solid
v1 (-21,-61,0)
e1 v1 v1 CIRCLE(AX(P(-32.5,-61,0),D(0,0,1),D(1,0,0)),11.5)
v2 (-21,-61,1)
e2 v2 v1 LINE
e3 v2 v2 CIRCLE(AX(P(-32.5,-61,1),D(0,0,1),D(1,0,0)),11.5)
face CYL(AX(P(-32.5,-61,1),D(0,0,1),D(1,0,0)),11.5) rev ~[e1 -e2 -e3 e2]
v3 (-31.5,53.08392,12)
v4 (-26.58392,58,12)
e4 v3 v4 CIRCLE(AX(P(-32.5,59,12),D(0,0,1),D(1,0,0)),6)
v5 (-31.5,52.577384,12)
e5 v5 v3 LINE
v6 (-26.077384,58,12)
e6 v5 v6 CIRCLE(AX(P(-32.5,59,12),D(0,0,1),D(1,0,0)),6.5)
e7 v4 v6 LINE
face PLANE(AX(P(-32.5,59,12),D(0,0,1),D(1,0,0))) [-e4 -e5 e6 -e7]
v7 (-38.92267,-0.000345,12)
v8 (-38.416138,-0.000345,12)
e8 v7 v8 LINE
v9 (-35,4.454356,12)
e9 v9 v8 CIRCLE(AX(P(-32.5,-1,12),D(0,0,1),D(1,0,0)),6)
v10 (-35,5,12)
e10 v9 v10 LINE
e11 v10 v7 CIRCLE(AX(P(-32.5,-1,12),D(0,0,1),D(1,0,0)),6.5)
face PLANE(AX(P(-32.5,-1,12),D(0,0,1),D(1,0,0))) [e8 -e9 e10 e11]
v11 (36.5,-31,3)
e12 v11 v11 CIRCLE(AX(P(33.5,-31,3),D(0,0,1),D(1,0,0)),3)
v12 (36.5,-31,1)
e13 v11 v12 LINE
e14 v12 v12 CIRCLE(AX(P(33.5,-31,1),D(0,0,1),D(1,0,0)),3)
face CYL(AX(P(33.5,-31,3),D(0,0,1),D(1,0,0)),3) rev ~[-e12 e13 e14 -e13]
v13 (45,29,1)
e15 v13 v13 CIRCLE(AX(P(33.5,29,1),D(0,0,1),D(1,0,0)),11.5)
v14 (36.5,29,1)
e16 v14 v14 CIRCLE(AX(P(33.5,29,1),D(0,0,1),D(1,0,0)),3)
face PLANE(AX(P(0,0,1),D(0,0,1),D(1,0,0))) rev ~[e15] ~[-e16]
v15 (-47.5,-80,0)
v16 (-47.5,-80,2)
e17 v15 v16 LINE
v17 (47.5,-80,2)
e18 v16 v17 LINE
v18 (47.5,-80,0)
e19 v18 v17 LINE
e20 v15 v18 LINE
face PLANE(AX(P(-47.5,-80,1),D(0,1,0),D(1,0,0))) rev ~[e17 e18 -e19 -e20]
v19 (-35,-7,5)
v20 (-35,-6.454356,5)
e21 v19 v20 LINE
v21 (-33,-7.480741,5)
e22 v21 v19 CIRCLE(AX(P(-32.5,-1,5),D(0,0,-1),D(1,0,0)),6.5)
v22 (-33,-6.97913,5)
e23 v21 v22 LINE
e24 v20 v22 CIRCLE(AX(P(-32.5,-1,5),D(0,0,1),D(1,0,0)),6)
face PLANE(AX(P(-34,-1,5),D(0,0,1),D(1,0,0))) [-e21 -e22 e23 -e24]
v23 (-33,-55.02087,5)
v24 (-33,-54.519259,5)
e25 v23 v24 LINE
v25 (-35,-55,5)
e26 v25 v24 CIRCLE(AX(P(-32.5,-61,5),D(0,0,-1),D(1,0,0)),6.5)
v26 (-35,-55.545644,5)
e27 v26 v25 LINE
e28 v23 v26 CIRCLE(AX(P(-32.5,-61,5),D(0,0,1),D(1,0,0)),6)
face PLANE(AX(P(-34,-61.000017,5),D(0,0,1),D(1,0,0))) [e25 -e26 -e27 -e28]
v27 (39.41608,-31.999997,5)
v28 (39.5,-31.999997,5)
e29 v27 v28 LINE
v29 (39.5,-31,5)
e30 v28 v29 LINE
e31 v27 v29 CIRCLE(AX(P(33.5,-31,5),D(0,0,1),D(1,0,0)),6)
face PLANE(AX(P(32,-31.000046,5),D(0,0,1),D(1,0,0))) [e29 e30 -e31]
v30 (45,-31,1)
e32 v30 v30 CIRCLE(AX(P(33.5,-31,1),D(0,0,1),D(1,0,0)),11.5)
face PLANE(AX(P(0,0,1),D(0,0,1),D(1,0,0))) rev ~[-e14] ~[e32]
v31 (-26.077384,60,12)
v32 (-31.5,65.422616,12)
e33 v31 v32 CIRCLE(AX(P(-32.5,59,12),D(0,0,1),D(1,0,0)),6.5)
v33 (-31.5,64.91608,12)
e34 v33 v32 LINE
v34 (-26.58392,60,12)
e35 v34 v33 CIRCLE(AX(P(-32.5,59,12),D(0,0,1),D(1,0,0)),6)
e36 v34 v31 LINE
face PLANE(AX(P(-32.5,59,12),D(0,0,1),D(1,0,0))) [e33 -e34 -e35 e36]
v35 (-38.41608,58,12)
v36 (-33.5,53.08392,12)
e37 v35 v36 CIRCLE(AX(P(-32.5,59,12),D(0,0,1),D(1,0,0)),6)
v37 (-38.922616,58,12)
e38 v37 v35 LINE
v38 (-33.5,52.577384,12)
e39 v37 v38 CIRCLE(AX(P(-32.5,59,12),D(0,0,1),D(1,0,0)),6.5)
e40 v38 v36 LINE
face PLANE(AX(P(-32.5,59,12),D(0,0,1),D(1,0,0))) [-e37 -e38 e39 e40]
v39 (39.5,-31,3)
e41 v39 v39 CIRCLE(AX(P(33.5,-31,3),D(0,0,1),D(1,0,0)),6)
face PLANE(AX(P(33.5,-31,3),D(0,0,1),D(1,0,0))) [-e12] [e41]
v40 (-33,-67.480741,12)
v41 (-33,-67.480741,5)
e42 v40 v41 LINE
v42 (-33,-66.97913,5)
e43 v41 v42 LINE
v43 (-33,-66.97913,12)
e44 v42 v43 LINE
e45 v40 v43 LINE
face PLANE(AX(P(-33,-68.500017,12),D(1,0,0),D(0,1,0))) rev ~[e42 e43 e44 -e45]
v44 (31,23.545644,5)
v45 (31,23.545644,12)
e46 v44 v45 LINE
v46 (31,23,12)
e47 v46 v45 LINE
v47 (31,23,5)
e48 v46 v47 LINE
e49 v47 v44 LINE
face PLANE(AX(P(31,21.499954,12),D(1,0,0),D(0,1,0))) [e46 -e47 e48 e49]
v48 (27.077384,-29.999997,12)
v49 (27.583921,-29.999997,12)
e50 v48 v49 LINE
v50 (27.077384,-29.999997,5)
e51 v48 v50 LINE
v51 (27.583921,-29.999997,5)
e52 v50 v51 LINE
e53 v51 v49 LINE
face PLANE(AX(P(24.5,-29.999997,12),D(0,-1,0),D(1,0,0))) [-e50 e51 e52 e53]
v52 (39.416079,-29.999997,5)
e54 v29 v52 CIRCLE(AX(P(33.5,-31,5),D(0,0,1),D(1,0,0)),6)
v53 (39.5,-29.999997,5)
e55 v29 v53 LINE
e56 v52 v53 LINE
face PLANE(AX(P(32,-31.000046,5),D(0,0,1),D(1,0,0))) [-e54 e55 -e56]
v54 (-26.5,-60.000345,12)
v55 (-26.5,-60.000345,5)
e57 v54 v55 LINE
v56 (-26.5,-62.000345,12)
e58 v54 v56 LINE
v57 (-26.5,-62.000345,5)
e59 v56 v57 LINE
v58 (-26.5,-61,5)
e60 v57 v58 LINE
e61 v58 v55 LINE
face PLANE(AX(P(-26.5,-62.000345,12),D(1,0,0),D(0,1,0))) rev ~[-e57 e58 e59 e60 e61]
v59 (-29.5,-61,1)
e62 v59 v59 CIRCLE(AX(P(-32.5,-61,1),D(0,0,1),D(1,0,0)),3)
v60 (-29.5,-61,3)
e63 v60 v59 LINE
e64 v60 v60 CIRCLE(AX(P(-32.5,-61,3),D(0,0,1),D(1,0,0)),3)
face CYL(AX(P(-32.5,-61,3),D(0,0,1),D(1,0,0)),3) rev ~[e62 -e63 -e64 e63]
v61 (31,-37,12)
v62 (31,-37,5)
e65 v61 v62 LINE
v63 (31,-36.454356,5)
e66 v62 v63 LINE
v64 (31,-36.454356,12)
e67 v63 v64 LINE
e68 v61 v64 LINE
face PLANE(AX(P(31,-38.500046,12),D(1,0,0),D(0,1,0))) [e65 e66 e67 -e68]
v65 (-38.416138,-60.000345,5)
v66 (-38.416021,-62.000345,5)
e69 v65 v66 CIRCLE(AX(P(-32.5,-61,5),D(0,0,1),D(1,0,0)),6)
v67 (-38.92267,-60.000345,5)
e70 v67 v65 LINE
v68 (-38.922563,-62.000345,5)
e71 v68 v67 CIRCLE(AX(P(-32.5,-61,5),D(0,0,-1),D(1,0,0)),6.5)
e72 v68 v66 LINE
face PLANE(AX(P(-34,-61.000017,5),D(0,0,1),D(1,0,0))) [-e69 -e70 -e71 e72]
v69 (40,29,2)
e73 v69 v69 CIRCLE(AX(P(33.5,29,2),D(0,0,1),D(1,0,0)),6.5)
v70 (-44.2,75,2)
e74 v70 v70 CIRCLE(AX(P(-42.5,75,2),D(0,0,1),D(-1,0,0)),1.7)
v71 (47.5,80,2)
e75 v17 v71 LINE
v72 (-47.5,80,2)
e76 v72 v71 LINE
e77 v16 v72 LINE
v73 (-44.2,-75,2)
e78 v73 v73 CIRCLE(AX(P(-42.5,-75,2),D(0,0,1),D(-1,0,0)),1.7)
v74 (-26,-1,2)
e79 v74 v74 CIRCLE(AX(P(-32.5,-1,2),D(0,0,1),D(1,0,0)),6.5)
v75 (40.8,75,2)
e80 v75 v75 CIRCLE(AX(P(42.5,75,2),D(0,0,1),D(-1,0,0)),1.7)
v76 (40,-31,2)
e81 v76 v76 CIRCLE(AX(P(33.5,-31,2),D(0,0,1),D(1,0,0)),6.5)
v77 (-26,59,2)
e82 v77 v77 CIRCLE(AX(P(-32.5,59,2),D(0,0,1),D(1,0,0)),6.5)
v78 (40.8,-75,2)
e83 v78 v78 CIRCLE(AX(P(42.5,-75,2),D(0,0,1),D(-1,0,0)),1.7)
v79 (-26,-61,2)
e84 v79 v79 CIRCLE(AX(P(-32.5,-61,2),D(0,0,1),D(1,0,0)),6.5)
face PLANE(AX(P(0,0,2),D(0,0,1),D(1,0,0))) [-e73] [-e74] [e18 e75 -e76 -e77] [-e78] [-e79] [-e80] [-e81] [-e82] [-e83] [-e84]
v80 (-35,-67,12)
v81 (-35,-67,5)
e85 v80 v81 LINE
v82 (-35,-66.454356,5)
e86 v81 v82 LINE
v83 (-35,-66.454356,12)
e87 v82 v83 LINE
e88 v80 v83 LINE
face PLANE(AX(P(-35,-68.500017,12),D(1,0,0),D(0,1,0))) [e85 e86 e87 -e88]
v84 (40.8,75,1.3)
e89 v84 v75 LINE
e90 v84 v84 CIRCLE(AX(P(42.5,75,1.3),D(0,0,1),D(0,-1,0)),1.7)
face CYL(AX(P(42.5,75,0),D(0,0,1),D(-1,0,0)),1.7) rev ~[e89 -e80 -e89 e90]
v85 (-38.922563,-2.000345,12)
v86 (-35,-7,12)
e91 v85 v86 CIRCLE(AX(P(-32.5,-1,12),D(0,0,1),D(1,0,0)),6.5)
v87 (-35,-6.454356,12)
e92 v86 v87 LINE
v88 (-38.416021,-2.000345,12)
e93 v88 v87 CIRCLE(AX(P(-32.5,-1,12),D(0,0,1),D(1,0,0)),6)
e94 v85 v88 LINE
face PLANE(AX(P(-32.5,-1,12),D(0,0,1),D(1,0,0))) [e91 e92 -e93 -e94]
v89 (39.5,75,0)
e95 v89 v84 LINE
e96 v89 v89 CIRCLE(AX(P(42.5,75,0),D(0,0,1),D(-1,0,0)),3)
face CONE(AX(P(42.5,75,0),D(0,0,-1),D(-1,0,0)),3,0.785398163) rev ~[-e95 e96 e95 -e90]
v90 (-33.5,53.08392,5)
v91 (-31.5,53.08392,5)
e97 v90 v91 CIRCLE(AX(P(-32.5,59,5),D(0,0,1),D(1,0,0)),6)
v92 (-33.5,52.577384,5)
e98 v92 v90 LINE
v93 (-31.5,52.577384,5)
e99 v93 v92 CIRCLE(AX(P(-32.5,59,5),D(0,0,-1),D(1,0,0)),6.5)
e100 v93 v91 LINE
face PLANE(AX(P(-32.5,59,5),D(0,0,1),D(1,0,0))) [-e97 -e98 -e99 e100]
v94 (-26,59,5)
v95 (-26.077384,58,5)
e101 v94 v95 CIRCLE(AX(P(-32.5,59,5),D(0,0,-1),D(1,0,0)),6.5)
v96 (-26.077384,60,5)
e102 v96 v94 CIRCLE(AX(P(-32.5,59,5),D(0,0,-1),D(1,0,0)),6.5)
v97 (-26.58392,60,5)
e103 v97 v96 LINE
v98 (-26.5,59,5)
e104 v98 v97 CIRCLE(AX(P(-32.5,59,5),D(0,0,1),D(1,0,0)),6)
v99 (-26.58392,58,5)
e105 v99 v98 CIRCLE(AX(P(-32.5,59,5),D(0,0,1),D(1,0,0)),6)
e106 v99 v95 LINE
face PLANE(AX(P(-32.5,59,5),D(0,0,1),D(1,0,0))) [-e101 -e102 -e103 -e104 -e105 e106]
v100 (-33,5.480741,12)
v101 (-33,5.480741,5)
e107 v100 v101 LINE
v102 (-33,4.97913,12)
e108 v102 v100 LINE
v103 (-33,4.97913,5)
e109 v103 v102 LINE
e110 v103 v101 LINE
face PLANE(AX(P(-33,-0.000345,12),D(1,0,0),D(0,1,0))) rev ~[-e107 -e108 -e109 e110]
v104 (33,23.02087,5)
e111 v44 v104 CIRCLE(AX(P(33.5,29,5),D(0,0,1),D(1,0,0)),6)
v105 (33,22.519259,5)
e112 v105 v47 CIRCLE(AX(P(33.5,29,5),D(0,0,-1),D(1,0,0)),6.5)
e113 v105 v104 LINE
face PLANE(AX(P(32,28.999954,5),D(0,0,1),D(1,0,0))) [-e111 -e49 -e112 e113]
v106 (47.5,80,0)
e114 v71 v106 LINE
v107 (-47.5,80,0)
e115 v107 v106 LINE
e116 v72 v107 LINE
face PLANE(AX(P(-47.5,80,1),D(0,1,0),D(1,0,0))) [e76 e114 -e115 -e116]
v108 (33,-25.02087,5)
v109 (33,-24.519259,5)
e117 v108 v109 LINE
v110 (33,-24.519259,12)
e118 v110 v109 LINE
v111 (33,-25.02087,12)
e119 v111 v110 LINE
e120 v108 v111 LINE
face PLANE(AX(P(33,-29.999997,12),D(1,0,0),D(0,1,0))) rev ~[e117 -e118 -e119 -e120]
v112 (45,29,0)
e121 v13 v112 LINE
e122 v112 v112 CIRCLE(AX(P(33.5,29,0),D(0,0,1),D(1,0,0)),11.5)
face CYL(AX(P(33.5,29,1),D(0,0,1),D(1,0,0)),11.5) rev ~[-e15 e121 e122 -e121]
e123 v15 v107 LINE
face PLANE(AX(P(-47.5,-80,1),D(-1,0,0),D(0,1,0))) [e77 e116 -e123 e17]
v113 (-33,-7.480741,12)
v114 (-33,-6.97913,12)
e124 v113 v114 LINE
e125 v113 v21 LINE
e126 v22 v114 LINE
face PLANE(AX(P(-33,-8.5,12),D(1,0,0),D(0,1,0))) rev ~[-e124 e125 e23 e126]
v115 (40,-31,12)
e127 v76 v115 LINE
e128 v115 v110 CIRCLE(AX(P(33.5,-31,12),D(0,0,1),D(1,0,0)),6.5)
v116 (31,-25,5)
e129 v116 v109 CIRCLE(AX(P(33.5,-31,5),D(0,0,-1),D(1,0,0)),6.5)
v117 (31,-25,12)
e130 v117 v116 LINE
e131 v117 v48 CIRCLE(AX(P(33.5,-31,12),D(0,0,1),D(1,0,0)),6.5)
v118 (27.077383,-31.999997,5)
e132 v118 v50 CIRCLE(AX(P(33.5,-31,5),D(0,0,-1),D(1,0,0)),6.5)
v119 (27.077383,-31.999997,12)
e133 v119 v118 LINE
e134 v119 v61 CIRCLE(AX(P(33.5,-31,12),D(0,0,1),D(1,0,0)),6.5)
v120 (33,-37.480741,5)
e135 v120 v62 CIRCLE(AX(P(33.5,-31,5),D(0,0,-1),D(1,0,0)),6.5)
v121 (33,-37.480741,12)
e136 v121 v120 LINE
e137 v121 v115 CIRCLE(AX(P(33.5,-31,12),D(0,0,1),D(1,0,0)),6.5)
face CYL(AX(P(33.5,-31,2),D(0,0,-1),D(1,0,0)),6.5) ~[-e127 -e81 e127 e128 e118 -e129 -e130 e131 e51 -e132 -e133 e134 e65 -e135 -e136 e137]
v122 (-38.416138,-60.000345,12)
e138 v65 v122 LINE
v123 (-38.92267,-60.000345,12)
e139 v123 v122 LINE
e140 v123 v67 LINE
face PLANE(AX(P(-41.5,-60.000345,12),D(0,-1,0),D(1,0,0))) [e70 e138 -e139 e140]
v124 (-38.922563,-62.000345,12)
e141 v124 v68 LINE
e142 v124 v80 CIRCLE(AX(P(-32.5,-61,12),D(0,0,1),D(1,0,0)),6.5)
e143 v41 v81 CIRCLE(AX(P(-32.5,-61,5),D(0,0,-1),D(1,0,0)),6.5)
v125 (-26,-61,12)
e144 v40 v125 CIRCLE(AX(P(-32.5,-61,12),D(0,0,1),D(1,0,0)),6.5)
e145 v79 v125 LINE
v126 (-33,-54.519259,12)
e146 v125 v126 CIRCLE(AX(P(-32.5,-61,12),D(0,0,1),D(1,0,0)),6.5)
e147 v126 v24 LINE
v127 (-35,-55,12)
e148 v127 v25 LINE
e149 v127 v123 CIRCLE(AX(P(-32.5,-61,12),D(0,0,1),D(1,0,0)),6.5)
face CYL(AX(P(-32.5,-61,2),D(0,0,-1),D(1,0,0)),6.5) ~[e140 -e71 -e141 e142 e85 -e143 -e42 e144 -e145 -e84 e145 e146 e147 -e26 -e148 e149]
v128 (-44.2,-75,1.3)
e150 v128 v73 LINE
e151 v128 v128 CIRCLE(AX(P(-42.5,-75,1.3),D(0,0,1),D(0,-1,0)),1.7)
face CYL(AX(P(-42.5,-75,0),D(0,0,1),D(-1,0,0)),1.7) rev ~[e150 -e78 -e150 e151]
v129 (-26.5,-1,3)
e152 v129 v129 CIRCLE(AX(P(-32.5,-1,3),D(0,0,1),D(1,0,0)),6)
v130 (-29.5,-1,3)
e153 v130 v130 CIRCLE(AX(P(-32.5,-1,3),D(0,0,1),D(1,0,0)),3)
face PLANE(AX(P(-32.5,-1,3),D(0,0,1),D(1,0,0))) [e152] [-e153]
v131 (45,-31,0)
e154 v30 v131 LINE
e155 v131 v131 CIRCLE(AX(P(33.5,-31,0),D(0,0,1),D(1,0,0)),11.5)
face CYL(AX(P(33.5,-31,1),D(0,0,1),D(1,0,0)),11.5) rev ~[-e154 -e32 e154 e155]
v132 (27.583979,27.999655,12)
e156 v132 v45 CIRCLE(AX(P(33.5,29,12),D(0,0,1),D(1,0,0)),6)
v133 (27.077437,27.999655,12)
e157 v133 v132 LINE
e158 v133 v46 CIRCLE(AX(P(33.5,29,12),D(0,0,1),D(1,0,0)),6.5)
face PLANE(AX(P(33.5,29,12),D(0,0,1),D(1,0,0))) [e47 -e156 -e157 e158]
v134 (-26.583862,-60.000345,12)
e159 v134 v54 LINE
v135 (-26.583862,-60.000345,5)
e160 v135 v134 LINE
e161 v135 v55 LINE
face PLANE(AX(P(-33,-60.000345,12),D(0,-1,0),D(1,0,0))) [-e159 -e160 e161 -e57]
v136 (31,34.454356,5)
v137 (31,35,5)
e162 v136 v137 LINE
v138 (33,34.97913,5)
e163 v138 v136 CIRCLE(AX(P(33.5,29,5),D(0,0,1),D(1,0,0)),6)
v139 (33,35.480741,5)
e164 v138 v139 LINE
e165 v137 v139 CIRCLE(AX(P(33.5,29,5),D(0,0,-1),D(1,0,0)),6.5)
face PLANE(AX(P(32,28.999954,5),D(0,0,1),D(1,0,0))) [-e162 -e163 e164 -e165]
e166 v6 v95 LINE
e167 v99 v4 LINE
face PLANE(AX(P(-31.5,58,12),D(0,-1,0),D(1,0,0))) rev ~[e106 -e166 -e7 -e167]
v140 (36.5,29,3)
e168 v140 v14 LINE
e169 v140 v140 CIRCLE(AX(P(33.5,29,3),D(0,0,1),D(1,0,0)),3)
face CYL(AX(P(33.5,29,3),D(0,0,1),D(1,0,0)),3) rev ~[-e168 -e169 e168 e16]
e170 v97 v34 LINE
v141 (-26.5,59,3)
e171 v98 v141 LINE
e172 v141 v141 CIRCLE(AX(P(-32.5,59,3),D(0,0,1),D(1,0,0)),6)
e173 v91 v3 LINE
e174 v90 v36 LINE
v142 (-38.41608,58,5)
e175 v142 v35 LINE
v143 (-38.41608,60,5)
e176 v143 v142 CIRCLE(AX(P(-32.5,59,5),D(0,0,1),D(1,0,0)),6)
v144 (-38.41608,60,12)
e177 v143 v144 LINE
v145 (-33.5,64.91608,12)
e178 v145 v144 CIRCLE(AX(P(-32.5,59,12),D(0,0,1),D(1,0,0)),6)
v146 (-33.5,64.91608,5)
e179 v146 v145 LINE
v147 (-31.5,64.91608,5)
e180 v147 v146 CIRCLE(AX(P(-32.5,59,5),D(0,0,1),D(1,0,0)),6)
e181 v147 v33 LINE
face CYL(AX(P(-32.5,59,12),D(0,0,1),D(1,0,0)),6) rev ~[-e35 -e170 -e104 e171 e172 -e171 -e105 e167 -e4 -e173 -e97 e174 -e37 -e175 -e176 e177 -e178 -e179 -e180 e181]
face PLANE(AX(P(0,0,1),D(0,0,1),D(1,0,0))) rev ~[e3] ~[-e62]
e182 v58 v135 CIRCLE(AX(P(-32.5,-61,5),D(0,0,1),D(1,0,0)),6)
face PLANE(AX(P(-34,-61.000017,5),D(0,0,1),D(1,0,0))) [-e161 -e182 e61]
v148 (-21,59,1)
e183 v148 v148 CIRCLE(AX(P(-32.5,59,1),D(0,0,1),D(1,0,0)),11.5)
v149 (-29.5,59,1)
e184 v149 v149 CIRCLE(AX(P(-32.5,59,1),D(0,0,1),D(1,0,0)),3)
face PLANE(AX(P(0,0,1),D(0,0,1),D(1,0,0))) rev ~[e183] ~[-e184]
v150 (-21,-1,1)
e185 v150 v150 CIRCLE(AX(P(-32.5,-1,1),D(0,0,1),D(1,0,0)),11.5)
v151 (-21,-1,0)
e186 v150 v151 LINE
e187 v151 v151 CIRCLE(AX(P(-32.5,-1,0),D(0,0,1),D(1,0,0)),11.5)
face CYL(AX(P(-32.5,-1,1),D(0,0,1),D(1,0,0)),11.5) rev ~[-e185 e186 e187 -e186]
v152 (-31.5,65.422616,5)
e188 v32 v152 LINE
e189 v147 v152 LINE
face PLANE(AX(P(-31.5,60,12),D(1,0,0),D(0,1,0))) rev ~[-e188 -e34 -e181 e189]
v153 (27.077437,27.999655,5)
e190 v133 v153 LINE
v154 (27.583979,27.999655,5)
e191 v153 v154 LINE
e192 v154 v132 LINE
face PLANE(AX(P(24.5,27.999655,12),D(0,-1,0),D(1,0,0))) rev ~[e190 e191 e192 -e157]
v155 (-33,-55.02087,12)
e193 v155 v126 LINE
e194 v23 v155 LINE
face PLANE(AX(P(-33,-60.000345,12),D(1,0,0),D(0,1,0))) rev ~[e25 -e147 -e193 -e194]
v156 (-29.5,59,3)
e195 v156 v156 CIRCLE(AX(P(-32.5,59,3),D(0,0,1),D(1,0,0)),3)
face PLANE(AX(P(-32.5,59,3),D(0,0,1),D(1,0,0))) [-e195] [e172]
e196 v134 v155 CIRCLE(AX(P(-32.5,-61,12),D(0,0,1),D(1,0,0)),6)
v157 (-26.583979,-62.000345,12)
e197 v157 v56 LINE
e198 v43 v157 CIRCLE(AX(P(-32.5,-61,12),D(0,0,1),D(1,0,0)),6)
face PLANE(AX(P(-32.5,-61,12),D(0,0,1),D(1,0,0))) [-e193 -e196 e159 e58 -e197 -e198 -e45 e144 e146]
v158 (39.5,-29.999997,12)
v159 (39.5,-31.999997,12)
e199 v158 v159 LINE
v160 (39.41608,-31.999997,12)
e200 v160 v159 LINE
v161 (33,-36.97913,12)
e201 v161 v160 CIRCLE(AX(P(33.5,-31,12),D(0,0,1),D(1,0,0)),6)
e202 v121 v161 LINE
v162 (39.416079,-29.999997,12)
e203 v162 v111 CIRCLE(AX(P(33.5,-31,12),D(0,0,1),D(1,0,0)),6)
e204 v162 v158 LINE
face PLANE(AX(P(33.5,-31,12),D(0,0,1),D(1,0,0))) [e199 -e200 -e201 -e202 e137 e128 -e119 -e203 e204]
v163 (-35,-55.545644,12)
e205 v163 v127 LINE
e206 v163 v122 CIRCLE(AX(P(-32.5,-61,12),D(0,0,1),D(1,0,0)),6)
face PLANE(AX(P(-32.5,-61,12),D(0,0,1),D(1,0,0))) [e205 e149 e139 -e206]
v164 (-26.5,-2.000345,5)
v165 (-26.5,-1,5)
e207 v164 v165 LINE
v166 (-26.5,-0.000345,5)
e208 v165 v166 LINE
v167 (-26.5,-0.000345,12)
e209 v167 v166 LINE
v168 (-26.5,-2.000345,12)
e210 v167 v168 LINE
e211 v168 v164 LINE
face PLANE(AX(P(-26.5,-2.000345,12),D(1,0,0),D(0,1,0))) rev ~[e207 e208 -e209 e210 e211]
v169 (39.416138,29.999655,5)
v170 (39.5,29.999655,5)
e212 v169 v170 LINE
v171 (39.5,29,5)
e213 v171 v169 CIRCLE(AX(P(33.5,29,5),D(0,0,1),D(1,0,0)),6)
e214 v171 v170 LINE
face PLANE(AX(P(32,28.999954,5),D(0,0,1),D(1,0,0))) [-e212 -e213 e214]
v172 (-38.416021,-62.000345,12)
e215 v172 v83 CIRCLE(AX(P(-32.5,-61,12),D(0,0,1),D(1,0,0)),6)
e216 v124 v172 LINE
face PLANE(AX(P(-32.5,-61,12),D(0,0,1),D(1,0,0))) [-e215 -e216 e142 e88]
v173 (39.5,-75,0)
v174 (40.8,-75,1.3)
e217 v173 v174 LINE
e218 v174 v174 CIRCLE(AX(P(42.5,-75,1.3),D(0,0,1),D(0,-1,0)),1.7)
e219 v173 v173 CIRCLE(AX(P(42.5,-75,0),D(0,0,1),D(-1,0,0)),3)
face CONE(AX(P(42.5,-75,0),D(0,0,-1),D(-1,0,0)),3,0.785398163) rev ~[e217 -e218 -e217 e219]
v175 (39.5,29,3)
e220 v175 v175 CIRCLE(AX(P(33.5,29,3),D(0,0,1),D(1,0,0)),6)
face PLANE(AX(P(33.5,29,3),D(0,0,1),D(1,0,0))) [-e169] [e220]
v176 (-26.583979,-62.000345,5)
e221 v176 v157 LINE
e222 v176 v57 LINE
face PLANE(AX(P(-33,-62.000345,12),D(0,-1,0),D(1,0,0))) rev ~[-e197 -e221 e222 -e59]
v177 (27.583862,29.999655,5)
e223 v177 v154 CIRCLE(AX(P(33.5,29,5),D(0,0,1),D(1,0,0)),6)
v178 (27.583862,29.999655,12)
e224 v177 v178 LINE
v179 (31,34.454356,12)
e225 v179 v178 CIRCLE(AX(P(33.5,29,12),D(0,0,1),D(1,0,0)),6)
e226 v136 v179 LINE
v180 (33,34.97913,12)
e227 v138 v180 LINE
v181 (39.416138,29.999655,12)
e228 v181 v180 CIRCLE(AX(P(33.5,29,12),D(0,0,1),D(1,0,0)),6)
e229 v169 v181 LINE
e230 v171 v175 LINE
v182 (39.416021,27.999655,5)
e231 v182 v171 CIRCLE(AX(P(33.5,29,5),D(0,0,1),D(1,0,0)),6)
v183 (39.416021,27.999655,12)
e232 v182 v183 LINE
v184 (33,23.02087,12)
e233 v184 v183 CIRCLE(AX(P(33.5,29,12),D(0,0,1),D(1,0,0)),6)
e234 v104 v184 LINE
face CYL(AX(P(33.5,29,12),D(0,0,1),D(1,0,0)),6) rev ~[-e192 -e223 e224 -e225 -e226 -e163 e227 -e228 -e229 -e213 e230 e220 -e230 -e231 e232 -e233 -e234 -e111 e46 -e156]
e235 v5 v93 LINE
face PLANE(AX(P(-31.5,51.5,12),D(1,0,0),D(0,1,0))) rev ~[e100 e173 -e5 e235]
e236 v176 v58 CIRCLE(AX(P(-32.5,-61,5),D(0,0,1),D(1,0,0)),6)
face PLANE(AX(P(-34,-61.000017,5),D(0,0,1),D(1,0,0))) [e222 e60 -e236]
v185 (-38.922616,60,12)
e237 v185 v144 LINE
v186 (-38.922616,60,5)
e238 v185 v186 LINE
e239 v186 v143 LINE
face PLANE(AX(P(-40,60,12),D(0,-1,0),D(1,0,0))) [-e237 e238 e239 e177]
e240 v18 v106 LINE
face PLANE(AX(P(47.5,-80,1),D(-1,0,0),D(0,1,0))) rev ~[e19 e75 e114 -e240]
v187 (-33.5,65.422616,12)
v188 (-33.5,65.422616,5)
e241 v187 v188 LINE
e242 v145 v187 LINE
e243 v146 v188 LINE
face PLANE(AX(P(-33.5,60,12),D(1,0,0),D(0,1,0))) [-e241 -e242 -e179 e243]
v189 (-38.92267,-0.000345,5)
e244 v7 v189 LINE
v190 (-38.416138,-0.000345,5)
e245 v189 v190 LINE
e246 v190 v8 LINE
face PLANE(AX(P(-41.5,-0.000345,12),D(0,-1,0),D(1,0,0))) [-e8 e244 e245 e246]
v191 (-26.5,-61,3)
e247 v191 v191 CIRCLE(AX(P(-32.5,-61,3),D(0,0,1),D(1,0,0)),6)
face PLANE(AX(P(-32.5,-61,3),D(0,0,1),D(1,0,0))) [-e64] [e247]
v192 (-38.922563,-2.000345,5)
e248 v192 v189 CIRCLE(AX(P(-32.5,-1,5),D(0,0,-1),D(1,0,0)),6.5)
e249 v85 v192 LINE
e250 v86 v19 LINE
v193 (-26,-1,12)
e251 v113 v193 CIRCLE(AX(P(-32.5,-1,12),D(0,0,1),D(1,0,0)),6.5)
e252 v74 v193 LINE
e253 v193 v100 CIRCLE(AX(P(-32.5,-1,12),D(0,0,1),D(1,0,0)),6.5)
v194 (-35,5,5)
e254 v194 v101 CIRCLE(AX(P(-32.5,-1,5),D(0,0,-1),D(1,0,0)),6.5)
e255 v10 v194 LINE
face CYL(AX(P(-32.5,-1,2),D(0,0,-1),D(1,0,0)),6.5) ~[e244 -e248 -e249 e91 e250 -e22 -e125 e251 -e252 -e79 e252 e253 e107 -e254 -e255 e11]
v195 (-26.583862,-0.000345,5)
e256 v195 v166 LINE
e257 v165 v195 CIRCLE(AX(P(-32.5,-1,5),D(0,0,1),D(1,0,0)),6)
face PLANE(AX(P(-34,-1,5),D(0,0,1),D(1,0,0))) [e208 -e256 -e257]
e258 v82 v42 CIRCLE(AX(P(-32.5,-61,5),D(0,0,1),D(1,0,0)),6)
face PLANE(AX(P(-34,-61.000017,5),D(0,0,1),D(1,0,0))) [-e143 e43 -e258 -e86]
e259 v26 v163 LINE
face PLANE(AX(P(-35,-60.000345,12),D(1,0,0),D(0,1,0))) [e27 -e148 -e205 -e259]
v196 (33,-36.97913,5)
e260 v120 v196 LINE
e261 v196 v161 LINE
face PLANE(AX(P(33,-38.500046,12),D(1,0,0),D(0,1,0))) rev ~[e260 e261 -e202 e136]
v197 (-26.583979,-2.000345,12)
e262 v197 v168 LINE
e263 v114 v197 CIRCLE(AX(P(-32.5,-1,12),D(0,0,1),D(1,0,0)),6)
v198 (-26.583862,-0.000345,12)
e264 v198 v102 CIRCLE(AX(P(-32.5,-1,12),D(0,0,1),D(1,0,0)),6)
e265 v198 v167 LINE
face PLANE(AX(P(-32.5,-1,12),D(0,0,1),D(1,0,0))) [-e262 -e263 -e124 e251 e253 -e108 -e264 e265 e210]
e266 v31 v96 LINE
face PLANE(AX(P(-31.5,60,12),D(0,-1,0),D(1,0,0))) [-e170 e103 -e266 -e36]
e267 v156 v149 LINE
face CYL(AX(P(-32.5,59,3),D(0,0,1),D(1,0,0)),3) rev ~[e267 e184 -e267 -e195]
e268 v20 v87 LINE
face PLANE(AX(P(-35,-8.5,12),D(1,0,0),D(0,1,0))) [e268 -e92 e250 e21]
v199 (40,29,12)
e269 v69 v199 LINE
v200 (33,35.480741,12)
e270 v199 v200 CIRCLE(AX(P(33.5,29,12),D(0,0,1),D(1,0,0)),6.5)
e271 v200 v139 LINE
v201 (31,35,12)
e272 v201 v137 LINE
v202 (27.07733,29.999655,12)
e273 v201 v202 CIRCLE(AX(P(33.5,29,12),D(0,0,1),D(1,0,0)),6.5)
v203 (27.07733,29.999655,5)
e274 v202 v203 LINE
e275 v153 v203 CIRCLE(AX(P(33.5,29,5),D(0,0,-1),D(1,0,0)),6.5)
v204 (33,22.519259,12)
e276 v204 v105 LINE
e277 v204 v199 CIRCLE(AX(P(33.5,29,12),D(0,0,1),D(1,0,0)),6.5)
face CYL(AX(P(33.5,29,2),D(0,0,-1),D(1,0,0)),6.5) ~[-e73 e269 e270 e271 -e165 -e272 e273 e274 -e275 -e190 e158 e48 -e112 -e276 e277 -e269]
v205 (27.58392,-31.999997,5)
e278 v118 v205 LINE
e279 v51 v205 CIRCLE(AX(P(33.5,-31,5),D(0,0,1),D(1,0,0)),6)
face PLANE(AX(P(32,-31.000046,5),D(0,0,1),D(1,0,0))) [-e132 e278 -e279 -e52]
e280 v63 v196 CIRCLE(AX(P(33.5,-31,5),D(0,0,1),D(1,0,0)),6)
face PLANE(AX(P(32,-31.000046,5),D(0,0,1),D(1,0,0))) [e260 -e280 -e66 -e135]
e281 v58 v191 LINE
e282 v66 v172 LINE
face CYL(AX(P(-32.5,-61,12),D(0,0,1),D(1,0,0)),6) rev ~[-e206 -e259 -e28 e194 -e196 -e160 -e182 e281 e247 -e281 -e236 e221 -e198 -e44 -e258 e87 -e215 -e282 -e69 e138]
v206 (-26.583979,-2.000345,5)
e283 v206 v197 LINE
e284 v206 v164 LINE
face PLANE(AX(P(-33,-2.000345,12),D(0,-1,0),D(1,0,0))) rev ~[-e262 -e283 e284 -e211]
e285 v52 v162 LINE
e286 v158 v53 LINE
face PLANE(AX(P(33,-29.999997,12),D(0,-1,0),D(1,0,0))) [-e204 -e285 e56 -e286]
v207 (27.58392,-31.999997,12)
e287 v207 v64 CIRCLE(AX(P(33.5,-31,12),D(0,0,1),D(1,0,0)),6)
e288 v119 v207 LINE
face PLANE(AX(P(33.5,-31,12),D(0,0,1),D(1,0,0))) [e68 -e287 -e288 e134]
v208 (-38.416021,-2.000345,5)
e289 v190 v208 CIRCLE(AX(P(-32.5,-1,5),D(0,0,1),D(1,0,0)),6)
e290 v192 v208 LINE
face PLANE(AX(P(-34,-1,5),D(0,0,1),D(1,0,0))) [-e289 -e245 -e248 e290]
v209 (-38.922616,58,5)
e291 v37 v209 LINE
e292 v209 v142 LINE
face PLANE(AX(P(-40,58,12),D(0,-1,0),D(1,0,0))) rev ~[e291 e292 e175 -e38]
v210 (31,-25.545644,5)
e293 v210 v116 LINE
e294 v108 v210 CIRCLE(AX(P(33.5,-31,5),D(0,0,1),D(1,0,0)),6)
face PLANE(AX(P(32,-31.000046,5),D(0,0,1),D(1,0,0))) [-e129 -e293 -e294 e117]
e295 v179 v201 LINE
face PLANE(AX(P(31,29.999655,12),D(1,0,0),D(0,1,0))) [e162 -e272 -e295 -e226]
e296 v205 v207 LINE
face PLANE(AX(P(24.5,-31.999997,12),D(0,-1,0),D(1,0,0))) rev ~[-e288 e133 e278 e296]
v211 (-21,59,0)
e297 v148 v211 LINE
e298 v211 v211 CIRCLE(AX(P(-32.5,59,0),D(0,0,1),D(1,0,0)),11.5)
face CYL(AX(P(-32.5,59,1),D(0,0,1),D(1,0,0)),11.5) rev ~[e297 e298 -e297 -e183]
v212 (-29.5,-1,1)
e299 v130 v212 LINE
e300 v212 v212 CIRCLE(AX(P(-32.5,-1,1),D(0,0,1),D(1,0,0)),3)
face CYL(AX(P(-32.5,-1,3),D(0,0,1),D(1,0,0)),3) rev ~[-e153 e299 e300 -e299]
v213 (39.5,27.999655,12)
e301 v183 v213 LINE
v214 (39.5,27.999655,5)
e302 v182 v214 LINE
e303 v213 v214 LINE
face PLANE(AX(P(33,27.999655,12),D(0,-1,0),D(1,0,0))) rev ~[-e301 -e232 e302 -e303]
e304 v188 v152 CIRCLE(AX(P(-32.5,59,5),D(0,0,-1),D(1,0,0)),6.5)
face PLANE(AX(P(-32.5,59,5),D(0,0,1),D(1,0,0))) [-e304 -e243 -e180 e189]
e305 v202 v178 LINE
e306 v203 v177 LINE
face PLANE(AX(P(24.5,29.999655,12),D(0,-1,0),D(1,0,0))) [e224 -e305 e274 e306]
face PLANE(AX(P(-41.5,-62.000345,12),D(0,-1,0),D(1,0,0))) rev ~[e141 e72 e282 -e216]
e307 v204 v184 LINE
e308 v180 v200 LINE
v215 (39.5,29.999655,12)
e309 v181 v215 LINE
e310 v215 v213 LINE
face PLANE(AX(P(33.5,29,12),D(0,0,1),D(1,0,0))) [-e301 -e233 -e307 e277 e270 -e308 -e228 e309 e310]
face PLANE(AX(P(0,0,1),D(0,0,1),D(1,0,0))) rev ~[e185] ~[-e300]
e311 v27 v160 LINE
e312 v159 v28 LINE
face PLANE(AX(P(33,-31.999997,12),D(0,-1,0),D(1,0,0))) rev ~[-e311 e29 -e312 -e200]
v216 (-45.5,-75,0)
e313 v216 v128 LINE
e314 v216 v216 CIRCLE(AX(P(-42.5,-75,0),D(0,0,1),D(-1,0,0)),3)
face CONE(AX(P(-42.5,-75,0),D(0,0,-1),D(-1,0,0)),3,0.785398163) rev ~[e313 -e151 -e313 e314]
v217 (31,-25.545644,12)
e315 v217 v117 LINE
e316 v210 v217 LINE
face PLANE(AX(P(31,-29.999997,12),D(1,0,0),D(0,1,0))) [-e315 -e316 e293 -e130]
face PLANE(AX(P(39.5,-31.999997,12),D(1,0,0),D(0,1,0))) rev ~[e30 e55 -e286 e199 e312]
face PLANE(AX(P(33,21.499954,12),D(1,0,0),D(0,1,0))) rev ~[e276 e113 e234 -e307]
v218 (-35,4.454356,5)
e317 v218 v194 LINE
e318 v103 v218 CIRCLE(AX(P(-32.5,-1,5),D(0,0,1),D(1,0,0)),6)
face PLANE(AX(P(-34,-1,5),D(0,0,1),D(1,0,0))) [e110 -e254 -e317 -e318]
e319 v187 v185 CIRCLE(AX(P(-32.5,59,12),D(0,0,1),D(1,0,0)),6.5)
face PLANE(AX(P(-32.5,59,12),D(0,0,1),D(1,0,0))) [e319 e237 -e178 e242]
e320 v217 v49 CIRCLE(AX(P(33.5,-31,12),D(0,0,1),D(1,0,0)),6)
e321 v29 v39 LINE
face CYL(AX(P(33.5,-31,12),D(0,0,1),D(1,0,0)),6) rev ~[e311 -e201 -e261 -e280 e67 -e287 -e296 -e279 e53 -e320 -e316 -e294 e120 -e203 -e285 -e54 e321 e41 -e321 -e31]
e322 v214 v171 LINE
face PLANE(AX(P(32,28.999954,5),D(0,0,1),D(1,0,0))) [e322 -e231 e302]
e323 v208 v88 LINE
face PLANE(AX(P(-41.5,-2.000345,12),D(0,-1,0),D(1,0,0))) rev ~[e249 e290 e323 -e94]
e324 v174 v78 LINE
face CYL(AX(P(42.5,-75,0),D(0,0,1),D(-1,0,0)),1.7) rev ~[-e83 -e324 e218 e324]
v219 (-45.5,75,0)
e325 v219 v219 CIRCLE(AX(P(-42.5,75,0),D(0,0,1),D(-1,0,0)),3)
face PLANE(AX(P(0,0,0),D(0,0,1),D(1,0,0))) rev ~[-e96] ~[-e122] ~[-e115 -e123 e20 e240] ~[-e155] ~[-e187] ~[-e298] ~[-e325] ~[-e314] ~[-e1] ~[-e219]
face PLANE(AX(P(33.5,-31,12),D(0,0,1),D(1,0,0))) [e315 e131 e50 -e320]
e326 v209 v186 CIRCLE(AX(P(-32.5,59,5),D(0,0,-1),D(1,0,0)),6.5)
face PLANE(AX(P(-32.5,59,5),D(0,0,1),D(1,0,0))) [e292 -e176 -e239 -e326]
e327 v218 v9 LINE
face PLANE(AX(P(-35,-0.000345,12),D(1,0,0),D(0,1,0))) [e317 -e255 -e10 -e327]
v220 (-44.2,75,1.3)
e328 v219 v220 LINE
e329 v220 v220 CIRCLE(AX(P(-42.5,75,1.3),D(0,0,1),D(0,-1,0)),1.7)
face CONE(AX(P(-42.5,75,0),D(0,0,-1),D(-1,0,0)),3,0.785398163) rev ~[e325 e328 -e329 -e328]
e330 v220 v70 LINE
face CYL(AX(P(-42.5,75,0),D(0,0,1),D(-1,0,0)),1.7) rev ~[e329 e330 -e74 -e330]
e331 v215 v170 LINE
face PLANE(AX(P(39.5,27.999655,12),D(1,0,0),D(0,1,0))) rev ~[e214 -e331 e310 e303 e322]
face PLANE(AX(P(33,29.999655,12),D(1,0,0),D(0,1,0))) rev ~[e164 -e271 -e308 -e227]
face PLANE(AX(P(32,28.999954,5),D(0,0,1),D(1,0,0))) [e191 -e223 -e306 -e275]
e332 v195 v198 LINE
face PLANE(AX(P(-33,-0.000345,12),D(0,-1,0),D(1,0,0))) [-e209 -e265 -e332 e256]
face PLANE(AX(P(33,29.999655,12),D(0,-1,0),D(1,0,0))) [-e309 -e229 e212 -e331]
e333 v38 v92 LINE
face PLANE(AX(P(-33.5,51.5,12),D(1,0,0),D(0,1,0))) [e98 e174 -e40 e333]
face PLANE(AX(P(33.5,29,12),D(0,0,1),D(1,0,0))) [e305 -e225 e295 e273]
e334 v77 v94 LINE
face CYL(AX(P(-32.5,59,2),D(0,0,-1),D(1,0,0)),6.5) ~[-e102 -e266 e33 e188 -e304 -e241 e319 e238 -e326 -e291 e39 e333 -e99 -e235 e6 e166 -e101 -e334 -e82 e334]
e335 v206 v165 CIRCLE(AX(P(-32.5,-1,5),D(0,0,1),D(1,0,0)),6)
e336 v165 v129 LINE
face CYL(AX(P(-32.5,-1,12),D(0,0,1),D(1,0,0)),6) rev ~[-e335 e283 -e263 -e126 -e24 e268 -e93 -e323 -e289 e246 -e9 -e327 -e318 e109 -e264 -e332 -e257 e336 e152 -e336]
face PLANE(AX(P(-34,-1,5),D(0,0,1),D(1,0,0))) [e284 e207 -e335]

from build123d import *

# Parameters (mm, degrees)
SKETCH_W            = 95
SKETCH_H            = 160
PAD_DEPTH           = 1
SKETCH001_R         = 11.5
POCKET_DEPTH        = 1
SKETCH002_W         = 95
SKETCH002_H         = 160
PAD001_DEPTH        = 1
SKETCH003_R         = 6.5
PAD002_DEPTH        = 10
SKETCH004_R         = 6
POCKET001_DEPTH     = 9
SKETCH005_R         = 3
HOLE_DEPTH          = 25
HOLE001_D           = 3.4
HOLE001_DEPTH       = 25
HOLE001_CSINK_D     = 6
HOLE001_CSINK_ANGLE = 90
SKETCH007_W         = 2
SKETCH007_H         = 15
SKETCH007_W_2       = 15
SKETCH007_H_2       = 2
POCKET002_DEPTH     = 7


with BuildPart() as part:
    # Sketch → Pad (new body)
    with BuildSketch(Plane.XY):
        Rectangle(SKETCH_W, SKETCH_H)
    extrude(amount=PAD_DEPTH)

    # Sketch001 (on Face6 of Pad) → Pocket (cut)
    with BuildSketch(Plane.XY.offset(1)):
        with Locations((-32.5, 59)):
            Circle(SKETCH001_R)
        with Locations((-32.5, -1)):
            Circle(SKETCH001_R)
        with Locations((-32.5, -61)):
            Circle(SKETCH001_R)
        with Locations((33.5, 29)):
            Circle(SKETCH001_R)
        with Locations((33.5, -31)):
            Circle(SKETCH001_R)
    extrude(amount=-POCKET_DEPTH, mode=Mode.SUBTRACT)

    # Sketch002 (on Face5 of Pocket) → Pad001 (join)
    with BuildSketch(Plane.XY.offset(1)):
        Rectangle(SKETCH002_W, SKETCH002_H)
    extrude(amount=PAD001_DEPTH)

    # Sketch003 (on Face14 of Pad001) → Pad002 (join)
    with BuildSketch(Plane.XY.offset(2)):
        with Locations((-32.5, 59)):
            Circle(SKETCH003_R)
        with Locations((-32.5, -1)):
            Circle(SKETCH003_R)
        with Locations((33.5, 29)):
            Circle(SKETCH003_R)
        with Locations((33.5, -31)):
            Circle(SKETCH003_R)
        with Locations((-32.5, -61)):
            Circle(SKETCH003_R)
    extrude(amount=PAD002_DEPTH)

    # Sketch004 (on Face30 of Pad002) → Pocket001 (cut)
    with BuildSketch(Plane.XY.offset(12)):
        with Locations((-32.5, 59)):
            Circle(SKETCH004_R)
        with Locations((33.5, 29)):
            Circle(SKETCH004_R)
        with Locations((-32.5, -1)):
            Circle(SKETCH004_R)
        with Locations((33.5, -31)):
            Circle(SKETCH004_R)
        with Locations((-32.5, -61)):
            Circle(SKETCH004_R)
    extrude(amount=-POCKET001_DEPTH, mode=Mode.SUBTRACT)

    # Sketch005 (on Face40 of Pocket001) → Hole (cut)
    with BuildSketch(Plane.XY.offset(3)):
        with Locations((-32.5, 59)):
            Circle(SKETCH005_R)
        with Locations((33.5, 29)):
            Circle(SKETCH005_R)
        with Locations((-32.5, -1)):
            Circle(SKETCH005_R)
        with Locations((33.5, -31)):
            Circle(SKETCH005_R)
        with Locations((-32.5, -61)):
            Circle(SKETCH005_R)
    extrude(amount=-HOLE_DEPTH, mode=Mode.SUBTRACT)

    # Hole001
    with Locations(Plane(origin=(0, 0, 0), x_dir=(1, 0, 0), z_dir=(0, 0, -1))):
        with Locations((-42.5, 75), (42.5, 75), (-42.5, -75), (42.5, -75)):
            CounterSinkHole(HOLE001_D / 2, HOLE001_CSINK_D / 2, depth=HOLE001_DEPTH, counter_sink_angle=HOLE001_CSINK_ANGLE)

    # Sketch007 (on Face43 of Hole001) → Pocket002 (cut)
    with BuildSketch(Plane.XY.offset(12)):
        with Locations((-32.5, 59)):
            Rectangle(SKETCH007_W, SKETCH007_H)
        with Locations((-32.5, 59)):
            Rectangle(SKETCH007_W_2, SKETCH007_H_2)
        with Locations((32, 28.999954)):
            Rectangle(SKETCH007_W, SKETCH007_H)
        with Locations((32, 28.999655)):
            Rectangle(SKETCH007_W_2, SKETCH007_H_2)
        with Locations((-34, -1)):
            Rectangle(SKETCH007_W, SKETCH007_H)
        with Locations((-34, -1.000345)):
            Rectangle(SKETCH007_W_2, SKETCH007_H_2)
        with Locations((32, -31.000046)):
            Rectangle(SKETCH007_W, SKETCH007_H)
        with Locations((32, -30.999997)):
            Rectangle(SKETCH007_W_2, SKETCH007_H_2)
        with Locations((-34, -61.000017)):
            Rectangle(SKETCH007_W, SKETCH007_H)
        with Locations((-34, -61.000345)):
            Rectangle(SKETCH007_W_2, SKETCH007_H_2)
    extrude(amount=-POCKET002_DEPTH, mode=Mode.SUBTRACT)


solid = part.part
